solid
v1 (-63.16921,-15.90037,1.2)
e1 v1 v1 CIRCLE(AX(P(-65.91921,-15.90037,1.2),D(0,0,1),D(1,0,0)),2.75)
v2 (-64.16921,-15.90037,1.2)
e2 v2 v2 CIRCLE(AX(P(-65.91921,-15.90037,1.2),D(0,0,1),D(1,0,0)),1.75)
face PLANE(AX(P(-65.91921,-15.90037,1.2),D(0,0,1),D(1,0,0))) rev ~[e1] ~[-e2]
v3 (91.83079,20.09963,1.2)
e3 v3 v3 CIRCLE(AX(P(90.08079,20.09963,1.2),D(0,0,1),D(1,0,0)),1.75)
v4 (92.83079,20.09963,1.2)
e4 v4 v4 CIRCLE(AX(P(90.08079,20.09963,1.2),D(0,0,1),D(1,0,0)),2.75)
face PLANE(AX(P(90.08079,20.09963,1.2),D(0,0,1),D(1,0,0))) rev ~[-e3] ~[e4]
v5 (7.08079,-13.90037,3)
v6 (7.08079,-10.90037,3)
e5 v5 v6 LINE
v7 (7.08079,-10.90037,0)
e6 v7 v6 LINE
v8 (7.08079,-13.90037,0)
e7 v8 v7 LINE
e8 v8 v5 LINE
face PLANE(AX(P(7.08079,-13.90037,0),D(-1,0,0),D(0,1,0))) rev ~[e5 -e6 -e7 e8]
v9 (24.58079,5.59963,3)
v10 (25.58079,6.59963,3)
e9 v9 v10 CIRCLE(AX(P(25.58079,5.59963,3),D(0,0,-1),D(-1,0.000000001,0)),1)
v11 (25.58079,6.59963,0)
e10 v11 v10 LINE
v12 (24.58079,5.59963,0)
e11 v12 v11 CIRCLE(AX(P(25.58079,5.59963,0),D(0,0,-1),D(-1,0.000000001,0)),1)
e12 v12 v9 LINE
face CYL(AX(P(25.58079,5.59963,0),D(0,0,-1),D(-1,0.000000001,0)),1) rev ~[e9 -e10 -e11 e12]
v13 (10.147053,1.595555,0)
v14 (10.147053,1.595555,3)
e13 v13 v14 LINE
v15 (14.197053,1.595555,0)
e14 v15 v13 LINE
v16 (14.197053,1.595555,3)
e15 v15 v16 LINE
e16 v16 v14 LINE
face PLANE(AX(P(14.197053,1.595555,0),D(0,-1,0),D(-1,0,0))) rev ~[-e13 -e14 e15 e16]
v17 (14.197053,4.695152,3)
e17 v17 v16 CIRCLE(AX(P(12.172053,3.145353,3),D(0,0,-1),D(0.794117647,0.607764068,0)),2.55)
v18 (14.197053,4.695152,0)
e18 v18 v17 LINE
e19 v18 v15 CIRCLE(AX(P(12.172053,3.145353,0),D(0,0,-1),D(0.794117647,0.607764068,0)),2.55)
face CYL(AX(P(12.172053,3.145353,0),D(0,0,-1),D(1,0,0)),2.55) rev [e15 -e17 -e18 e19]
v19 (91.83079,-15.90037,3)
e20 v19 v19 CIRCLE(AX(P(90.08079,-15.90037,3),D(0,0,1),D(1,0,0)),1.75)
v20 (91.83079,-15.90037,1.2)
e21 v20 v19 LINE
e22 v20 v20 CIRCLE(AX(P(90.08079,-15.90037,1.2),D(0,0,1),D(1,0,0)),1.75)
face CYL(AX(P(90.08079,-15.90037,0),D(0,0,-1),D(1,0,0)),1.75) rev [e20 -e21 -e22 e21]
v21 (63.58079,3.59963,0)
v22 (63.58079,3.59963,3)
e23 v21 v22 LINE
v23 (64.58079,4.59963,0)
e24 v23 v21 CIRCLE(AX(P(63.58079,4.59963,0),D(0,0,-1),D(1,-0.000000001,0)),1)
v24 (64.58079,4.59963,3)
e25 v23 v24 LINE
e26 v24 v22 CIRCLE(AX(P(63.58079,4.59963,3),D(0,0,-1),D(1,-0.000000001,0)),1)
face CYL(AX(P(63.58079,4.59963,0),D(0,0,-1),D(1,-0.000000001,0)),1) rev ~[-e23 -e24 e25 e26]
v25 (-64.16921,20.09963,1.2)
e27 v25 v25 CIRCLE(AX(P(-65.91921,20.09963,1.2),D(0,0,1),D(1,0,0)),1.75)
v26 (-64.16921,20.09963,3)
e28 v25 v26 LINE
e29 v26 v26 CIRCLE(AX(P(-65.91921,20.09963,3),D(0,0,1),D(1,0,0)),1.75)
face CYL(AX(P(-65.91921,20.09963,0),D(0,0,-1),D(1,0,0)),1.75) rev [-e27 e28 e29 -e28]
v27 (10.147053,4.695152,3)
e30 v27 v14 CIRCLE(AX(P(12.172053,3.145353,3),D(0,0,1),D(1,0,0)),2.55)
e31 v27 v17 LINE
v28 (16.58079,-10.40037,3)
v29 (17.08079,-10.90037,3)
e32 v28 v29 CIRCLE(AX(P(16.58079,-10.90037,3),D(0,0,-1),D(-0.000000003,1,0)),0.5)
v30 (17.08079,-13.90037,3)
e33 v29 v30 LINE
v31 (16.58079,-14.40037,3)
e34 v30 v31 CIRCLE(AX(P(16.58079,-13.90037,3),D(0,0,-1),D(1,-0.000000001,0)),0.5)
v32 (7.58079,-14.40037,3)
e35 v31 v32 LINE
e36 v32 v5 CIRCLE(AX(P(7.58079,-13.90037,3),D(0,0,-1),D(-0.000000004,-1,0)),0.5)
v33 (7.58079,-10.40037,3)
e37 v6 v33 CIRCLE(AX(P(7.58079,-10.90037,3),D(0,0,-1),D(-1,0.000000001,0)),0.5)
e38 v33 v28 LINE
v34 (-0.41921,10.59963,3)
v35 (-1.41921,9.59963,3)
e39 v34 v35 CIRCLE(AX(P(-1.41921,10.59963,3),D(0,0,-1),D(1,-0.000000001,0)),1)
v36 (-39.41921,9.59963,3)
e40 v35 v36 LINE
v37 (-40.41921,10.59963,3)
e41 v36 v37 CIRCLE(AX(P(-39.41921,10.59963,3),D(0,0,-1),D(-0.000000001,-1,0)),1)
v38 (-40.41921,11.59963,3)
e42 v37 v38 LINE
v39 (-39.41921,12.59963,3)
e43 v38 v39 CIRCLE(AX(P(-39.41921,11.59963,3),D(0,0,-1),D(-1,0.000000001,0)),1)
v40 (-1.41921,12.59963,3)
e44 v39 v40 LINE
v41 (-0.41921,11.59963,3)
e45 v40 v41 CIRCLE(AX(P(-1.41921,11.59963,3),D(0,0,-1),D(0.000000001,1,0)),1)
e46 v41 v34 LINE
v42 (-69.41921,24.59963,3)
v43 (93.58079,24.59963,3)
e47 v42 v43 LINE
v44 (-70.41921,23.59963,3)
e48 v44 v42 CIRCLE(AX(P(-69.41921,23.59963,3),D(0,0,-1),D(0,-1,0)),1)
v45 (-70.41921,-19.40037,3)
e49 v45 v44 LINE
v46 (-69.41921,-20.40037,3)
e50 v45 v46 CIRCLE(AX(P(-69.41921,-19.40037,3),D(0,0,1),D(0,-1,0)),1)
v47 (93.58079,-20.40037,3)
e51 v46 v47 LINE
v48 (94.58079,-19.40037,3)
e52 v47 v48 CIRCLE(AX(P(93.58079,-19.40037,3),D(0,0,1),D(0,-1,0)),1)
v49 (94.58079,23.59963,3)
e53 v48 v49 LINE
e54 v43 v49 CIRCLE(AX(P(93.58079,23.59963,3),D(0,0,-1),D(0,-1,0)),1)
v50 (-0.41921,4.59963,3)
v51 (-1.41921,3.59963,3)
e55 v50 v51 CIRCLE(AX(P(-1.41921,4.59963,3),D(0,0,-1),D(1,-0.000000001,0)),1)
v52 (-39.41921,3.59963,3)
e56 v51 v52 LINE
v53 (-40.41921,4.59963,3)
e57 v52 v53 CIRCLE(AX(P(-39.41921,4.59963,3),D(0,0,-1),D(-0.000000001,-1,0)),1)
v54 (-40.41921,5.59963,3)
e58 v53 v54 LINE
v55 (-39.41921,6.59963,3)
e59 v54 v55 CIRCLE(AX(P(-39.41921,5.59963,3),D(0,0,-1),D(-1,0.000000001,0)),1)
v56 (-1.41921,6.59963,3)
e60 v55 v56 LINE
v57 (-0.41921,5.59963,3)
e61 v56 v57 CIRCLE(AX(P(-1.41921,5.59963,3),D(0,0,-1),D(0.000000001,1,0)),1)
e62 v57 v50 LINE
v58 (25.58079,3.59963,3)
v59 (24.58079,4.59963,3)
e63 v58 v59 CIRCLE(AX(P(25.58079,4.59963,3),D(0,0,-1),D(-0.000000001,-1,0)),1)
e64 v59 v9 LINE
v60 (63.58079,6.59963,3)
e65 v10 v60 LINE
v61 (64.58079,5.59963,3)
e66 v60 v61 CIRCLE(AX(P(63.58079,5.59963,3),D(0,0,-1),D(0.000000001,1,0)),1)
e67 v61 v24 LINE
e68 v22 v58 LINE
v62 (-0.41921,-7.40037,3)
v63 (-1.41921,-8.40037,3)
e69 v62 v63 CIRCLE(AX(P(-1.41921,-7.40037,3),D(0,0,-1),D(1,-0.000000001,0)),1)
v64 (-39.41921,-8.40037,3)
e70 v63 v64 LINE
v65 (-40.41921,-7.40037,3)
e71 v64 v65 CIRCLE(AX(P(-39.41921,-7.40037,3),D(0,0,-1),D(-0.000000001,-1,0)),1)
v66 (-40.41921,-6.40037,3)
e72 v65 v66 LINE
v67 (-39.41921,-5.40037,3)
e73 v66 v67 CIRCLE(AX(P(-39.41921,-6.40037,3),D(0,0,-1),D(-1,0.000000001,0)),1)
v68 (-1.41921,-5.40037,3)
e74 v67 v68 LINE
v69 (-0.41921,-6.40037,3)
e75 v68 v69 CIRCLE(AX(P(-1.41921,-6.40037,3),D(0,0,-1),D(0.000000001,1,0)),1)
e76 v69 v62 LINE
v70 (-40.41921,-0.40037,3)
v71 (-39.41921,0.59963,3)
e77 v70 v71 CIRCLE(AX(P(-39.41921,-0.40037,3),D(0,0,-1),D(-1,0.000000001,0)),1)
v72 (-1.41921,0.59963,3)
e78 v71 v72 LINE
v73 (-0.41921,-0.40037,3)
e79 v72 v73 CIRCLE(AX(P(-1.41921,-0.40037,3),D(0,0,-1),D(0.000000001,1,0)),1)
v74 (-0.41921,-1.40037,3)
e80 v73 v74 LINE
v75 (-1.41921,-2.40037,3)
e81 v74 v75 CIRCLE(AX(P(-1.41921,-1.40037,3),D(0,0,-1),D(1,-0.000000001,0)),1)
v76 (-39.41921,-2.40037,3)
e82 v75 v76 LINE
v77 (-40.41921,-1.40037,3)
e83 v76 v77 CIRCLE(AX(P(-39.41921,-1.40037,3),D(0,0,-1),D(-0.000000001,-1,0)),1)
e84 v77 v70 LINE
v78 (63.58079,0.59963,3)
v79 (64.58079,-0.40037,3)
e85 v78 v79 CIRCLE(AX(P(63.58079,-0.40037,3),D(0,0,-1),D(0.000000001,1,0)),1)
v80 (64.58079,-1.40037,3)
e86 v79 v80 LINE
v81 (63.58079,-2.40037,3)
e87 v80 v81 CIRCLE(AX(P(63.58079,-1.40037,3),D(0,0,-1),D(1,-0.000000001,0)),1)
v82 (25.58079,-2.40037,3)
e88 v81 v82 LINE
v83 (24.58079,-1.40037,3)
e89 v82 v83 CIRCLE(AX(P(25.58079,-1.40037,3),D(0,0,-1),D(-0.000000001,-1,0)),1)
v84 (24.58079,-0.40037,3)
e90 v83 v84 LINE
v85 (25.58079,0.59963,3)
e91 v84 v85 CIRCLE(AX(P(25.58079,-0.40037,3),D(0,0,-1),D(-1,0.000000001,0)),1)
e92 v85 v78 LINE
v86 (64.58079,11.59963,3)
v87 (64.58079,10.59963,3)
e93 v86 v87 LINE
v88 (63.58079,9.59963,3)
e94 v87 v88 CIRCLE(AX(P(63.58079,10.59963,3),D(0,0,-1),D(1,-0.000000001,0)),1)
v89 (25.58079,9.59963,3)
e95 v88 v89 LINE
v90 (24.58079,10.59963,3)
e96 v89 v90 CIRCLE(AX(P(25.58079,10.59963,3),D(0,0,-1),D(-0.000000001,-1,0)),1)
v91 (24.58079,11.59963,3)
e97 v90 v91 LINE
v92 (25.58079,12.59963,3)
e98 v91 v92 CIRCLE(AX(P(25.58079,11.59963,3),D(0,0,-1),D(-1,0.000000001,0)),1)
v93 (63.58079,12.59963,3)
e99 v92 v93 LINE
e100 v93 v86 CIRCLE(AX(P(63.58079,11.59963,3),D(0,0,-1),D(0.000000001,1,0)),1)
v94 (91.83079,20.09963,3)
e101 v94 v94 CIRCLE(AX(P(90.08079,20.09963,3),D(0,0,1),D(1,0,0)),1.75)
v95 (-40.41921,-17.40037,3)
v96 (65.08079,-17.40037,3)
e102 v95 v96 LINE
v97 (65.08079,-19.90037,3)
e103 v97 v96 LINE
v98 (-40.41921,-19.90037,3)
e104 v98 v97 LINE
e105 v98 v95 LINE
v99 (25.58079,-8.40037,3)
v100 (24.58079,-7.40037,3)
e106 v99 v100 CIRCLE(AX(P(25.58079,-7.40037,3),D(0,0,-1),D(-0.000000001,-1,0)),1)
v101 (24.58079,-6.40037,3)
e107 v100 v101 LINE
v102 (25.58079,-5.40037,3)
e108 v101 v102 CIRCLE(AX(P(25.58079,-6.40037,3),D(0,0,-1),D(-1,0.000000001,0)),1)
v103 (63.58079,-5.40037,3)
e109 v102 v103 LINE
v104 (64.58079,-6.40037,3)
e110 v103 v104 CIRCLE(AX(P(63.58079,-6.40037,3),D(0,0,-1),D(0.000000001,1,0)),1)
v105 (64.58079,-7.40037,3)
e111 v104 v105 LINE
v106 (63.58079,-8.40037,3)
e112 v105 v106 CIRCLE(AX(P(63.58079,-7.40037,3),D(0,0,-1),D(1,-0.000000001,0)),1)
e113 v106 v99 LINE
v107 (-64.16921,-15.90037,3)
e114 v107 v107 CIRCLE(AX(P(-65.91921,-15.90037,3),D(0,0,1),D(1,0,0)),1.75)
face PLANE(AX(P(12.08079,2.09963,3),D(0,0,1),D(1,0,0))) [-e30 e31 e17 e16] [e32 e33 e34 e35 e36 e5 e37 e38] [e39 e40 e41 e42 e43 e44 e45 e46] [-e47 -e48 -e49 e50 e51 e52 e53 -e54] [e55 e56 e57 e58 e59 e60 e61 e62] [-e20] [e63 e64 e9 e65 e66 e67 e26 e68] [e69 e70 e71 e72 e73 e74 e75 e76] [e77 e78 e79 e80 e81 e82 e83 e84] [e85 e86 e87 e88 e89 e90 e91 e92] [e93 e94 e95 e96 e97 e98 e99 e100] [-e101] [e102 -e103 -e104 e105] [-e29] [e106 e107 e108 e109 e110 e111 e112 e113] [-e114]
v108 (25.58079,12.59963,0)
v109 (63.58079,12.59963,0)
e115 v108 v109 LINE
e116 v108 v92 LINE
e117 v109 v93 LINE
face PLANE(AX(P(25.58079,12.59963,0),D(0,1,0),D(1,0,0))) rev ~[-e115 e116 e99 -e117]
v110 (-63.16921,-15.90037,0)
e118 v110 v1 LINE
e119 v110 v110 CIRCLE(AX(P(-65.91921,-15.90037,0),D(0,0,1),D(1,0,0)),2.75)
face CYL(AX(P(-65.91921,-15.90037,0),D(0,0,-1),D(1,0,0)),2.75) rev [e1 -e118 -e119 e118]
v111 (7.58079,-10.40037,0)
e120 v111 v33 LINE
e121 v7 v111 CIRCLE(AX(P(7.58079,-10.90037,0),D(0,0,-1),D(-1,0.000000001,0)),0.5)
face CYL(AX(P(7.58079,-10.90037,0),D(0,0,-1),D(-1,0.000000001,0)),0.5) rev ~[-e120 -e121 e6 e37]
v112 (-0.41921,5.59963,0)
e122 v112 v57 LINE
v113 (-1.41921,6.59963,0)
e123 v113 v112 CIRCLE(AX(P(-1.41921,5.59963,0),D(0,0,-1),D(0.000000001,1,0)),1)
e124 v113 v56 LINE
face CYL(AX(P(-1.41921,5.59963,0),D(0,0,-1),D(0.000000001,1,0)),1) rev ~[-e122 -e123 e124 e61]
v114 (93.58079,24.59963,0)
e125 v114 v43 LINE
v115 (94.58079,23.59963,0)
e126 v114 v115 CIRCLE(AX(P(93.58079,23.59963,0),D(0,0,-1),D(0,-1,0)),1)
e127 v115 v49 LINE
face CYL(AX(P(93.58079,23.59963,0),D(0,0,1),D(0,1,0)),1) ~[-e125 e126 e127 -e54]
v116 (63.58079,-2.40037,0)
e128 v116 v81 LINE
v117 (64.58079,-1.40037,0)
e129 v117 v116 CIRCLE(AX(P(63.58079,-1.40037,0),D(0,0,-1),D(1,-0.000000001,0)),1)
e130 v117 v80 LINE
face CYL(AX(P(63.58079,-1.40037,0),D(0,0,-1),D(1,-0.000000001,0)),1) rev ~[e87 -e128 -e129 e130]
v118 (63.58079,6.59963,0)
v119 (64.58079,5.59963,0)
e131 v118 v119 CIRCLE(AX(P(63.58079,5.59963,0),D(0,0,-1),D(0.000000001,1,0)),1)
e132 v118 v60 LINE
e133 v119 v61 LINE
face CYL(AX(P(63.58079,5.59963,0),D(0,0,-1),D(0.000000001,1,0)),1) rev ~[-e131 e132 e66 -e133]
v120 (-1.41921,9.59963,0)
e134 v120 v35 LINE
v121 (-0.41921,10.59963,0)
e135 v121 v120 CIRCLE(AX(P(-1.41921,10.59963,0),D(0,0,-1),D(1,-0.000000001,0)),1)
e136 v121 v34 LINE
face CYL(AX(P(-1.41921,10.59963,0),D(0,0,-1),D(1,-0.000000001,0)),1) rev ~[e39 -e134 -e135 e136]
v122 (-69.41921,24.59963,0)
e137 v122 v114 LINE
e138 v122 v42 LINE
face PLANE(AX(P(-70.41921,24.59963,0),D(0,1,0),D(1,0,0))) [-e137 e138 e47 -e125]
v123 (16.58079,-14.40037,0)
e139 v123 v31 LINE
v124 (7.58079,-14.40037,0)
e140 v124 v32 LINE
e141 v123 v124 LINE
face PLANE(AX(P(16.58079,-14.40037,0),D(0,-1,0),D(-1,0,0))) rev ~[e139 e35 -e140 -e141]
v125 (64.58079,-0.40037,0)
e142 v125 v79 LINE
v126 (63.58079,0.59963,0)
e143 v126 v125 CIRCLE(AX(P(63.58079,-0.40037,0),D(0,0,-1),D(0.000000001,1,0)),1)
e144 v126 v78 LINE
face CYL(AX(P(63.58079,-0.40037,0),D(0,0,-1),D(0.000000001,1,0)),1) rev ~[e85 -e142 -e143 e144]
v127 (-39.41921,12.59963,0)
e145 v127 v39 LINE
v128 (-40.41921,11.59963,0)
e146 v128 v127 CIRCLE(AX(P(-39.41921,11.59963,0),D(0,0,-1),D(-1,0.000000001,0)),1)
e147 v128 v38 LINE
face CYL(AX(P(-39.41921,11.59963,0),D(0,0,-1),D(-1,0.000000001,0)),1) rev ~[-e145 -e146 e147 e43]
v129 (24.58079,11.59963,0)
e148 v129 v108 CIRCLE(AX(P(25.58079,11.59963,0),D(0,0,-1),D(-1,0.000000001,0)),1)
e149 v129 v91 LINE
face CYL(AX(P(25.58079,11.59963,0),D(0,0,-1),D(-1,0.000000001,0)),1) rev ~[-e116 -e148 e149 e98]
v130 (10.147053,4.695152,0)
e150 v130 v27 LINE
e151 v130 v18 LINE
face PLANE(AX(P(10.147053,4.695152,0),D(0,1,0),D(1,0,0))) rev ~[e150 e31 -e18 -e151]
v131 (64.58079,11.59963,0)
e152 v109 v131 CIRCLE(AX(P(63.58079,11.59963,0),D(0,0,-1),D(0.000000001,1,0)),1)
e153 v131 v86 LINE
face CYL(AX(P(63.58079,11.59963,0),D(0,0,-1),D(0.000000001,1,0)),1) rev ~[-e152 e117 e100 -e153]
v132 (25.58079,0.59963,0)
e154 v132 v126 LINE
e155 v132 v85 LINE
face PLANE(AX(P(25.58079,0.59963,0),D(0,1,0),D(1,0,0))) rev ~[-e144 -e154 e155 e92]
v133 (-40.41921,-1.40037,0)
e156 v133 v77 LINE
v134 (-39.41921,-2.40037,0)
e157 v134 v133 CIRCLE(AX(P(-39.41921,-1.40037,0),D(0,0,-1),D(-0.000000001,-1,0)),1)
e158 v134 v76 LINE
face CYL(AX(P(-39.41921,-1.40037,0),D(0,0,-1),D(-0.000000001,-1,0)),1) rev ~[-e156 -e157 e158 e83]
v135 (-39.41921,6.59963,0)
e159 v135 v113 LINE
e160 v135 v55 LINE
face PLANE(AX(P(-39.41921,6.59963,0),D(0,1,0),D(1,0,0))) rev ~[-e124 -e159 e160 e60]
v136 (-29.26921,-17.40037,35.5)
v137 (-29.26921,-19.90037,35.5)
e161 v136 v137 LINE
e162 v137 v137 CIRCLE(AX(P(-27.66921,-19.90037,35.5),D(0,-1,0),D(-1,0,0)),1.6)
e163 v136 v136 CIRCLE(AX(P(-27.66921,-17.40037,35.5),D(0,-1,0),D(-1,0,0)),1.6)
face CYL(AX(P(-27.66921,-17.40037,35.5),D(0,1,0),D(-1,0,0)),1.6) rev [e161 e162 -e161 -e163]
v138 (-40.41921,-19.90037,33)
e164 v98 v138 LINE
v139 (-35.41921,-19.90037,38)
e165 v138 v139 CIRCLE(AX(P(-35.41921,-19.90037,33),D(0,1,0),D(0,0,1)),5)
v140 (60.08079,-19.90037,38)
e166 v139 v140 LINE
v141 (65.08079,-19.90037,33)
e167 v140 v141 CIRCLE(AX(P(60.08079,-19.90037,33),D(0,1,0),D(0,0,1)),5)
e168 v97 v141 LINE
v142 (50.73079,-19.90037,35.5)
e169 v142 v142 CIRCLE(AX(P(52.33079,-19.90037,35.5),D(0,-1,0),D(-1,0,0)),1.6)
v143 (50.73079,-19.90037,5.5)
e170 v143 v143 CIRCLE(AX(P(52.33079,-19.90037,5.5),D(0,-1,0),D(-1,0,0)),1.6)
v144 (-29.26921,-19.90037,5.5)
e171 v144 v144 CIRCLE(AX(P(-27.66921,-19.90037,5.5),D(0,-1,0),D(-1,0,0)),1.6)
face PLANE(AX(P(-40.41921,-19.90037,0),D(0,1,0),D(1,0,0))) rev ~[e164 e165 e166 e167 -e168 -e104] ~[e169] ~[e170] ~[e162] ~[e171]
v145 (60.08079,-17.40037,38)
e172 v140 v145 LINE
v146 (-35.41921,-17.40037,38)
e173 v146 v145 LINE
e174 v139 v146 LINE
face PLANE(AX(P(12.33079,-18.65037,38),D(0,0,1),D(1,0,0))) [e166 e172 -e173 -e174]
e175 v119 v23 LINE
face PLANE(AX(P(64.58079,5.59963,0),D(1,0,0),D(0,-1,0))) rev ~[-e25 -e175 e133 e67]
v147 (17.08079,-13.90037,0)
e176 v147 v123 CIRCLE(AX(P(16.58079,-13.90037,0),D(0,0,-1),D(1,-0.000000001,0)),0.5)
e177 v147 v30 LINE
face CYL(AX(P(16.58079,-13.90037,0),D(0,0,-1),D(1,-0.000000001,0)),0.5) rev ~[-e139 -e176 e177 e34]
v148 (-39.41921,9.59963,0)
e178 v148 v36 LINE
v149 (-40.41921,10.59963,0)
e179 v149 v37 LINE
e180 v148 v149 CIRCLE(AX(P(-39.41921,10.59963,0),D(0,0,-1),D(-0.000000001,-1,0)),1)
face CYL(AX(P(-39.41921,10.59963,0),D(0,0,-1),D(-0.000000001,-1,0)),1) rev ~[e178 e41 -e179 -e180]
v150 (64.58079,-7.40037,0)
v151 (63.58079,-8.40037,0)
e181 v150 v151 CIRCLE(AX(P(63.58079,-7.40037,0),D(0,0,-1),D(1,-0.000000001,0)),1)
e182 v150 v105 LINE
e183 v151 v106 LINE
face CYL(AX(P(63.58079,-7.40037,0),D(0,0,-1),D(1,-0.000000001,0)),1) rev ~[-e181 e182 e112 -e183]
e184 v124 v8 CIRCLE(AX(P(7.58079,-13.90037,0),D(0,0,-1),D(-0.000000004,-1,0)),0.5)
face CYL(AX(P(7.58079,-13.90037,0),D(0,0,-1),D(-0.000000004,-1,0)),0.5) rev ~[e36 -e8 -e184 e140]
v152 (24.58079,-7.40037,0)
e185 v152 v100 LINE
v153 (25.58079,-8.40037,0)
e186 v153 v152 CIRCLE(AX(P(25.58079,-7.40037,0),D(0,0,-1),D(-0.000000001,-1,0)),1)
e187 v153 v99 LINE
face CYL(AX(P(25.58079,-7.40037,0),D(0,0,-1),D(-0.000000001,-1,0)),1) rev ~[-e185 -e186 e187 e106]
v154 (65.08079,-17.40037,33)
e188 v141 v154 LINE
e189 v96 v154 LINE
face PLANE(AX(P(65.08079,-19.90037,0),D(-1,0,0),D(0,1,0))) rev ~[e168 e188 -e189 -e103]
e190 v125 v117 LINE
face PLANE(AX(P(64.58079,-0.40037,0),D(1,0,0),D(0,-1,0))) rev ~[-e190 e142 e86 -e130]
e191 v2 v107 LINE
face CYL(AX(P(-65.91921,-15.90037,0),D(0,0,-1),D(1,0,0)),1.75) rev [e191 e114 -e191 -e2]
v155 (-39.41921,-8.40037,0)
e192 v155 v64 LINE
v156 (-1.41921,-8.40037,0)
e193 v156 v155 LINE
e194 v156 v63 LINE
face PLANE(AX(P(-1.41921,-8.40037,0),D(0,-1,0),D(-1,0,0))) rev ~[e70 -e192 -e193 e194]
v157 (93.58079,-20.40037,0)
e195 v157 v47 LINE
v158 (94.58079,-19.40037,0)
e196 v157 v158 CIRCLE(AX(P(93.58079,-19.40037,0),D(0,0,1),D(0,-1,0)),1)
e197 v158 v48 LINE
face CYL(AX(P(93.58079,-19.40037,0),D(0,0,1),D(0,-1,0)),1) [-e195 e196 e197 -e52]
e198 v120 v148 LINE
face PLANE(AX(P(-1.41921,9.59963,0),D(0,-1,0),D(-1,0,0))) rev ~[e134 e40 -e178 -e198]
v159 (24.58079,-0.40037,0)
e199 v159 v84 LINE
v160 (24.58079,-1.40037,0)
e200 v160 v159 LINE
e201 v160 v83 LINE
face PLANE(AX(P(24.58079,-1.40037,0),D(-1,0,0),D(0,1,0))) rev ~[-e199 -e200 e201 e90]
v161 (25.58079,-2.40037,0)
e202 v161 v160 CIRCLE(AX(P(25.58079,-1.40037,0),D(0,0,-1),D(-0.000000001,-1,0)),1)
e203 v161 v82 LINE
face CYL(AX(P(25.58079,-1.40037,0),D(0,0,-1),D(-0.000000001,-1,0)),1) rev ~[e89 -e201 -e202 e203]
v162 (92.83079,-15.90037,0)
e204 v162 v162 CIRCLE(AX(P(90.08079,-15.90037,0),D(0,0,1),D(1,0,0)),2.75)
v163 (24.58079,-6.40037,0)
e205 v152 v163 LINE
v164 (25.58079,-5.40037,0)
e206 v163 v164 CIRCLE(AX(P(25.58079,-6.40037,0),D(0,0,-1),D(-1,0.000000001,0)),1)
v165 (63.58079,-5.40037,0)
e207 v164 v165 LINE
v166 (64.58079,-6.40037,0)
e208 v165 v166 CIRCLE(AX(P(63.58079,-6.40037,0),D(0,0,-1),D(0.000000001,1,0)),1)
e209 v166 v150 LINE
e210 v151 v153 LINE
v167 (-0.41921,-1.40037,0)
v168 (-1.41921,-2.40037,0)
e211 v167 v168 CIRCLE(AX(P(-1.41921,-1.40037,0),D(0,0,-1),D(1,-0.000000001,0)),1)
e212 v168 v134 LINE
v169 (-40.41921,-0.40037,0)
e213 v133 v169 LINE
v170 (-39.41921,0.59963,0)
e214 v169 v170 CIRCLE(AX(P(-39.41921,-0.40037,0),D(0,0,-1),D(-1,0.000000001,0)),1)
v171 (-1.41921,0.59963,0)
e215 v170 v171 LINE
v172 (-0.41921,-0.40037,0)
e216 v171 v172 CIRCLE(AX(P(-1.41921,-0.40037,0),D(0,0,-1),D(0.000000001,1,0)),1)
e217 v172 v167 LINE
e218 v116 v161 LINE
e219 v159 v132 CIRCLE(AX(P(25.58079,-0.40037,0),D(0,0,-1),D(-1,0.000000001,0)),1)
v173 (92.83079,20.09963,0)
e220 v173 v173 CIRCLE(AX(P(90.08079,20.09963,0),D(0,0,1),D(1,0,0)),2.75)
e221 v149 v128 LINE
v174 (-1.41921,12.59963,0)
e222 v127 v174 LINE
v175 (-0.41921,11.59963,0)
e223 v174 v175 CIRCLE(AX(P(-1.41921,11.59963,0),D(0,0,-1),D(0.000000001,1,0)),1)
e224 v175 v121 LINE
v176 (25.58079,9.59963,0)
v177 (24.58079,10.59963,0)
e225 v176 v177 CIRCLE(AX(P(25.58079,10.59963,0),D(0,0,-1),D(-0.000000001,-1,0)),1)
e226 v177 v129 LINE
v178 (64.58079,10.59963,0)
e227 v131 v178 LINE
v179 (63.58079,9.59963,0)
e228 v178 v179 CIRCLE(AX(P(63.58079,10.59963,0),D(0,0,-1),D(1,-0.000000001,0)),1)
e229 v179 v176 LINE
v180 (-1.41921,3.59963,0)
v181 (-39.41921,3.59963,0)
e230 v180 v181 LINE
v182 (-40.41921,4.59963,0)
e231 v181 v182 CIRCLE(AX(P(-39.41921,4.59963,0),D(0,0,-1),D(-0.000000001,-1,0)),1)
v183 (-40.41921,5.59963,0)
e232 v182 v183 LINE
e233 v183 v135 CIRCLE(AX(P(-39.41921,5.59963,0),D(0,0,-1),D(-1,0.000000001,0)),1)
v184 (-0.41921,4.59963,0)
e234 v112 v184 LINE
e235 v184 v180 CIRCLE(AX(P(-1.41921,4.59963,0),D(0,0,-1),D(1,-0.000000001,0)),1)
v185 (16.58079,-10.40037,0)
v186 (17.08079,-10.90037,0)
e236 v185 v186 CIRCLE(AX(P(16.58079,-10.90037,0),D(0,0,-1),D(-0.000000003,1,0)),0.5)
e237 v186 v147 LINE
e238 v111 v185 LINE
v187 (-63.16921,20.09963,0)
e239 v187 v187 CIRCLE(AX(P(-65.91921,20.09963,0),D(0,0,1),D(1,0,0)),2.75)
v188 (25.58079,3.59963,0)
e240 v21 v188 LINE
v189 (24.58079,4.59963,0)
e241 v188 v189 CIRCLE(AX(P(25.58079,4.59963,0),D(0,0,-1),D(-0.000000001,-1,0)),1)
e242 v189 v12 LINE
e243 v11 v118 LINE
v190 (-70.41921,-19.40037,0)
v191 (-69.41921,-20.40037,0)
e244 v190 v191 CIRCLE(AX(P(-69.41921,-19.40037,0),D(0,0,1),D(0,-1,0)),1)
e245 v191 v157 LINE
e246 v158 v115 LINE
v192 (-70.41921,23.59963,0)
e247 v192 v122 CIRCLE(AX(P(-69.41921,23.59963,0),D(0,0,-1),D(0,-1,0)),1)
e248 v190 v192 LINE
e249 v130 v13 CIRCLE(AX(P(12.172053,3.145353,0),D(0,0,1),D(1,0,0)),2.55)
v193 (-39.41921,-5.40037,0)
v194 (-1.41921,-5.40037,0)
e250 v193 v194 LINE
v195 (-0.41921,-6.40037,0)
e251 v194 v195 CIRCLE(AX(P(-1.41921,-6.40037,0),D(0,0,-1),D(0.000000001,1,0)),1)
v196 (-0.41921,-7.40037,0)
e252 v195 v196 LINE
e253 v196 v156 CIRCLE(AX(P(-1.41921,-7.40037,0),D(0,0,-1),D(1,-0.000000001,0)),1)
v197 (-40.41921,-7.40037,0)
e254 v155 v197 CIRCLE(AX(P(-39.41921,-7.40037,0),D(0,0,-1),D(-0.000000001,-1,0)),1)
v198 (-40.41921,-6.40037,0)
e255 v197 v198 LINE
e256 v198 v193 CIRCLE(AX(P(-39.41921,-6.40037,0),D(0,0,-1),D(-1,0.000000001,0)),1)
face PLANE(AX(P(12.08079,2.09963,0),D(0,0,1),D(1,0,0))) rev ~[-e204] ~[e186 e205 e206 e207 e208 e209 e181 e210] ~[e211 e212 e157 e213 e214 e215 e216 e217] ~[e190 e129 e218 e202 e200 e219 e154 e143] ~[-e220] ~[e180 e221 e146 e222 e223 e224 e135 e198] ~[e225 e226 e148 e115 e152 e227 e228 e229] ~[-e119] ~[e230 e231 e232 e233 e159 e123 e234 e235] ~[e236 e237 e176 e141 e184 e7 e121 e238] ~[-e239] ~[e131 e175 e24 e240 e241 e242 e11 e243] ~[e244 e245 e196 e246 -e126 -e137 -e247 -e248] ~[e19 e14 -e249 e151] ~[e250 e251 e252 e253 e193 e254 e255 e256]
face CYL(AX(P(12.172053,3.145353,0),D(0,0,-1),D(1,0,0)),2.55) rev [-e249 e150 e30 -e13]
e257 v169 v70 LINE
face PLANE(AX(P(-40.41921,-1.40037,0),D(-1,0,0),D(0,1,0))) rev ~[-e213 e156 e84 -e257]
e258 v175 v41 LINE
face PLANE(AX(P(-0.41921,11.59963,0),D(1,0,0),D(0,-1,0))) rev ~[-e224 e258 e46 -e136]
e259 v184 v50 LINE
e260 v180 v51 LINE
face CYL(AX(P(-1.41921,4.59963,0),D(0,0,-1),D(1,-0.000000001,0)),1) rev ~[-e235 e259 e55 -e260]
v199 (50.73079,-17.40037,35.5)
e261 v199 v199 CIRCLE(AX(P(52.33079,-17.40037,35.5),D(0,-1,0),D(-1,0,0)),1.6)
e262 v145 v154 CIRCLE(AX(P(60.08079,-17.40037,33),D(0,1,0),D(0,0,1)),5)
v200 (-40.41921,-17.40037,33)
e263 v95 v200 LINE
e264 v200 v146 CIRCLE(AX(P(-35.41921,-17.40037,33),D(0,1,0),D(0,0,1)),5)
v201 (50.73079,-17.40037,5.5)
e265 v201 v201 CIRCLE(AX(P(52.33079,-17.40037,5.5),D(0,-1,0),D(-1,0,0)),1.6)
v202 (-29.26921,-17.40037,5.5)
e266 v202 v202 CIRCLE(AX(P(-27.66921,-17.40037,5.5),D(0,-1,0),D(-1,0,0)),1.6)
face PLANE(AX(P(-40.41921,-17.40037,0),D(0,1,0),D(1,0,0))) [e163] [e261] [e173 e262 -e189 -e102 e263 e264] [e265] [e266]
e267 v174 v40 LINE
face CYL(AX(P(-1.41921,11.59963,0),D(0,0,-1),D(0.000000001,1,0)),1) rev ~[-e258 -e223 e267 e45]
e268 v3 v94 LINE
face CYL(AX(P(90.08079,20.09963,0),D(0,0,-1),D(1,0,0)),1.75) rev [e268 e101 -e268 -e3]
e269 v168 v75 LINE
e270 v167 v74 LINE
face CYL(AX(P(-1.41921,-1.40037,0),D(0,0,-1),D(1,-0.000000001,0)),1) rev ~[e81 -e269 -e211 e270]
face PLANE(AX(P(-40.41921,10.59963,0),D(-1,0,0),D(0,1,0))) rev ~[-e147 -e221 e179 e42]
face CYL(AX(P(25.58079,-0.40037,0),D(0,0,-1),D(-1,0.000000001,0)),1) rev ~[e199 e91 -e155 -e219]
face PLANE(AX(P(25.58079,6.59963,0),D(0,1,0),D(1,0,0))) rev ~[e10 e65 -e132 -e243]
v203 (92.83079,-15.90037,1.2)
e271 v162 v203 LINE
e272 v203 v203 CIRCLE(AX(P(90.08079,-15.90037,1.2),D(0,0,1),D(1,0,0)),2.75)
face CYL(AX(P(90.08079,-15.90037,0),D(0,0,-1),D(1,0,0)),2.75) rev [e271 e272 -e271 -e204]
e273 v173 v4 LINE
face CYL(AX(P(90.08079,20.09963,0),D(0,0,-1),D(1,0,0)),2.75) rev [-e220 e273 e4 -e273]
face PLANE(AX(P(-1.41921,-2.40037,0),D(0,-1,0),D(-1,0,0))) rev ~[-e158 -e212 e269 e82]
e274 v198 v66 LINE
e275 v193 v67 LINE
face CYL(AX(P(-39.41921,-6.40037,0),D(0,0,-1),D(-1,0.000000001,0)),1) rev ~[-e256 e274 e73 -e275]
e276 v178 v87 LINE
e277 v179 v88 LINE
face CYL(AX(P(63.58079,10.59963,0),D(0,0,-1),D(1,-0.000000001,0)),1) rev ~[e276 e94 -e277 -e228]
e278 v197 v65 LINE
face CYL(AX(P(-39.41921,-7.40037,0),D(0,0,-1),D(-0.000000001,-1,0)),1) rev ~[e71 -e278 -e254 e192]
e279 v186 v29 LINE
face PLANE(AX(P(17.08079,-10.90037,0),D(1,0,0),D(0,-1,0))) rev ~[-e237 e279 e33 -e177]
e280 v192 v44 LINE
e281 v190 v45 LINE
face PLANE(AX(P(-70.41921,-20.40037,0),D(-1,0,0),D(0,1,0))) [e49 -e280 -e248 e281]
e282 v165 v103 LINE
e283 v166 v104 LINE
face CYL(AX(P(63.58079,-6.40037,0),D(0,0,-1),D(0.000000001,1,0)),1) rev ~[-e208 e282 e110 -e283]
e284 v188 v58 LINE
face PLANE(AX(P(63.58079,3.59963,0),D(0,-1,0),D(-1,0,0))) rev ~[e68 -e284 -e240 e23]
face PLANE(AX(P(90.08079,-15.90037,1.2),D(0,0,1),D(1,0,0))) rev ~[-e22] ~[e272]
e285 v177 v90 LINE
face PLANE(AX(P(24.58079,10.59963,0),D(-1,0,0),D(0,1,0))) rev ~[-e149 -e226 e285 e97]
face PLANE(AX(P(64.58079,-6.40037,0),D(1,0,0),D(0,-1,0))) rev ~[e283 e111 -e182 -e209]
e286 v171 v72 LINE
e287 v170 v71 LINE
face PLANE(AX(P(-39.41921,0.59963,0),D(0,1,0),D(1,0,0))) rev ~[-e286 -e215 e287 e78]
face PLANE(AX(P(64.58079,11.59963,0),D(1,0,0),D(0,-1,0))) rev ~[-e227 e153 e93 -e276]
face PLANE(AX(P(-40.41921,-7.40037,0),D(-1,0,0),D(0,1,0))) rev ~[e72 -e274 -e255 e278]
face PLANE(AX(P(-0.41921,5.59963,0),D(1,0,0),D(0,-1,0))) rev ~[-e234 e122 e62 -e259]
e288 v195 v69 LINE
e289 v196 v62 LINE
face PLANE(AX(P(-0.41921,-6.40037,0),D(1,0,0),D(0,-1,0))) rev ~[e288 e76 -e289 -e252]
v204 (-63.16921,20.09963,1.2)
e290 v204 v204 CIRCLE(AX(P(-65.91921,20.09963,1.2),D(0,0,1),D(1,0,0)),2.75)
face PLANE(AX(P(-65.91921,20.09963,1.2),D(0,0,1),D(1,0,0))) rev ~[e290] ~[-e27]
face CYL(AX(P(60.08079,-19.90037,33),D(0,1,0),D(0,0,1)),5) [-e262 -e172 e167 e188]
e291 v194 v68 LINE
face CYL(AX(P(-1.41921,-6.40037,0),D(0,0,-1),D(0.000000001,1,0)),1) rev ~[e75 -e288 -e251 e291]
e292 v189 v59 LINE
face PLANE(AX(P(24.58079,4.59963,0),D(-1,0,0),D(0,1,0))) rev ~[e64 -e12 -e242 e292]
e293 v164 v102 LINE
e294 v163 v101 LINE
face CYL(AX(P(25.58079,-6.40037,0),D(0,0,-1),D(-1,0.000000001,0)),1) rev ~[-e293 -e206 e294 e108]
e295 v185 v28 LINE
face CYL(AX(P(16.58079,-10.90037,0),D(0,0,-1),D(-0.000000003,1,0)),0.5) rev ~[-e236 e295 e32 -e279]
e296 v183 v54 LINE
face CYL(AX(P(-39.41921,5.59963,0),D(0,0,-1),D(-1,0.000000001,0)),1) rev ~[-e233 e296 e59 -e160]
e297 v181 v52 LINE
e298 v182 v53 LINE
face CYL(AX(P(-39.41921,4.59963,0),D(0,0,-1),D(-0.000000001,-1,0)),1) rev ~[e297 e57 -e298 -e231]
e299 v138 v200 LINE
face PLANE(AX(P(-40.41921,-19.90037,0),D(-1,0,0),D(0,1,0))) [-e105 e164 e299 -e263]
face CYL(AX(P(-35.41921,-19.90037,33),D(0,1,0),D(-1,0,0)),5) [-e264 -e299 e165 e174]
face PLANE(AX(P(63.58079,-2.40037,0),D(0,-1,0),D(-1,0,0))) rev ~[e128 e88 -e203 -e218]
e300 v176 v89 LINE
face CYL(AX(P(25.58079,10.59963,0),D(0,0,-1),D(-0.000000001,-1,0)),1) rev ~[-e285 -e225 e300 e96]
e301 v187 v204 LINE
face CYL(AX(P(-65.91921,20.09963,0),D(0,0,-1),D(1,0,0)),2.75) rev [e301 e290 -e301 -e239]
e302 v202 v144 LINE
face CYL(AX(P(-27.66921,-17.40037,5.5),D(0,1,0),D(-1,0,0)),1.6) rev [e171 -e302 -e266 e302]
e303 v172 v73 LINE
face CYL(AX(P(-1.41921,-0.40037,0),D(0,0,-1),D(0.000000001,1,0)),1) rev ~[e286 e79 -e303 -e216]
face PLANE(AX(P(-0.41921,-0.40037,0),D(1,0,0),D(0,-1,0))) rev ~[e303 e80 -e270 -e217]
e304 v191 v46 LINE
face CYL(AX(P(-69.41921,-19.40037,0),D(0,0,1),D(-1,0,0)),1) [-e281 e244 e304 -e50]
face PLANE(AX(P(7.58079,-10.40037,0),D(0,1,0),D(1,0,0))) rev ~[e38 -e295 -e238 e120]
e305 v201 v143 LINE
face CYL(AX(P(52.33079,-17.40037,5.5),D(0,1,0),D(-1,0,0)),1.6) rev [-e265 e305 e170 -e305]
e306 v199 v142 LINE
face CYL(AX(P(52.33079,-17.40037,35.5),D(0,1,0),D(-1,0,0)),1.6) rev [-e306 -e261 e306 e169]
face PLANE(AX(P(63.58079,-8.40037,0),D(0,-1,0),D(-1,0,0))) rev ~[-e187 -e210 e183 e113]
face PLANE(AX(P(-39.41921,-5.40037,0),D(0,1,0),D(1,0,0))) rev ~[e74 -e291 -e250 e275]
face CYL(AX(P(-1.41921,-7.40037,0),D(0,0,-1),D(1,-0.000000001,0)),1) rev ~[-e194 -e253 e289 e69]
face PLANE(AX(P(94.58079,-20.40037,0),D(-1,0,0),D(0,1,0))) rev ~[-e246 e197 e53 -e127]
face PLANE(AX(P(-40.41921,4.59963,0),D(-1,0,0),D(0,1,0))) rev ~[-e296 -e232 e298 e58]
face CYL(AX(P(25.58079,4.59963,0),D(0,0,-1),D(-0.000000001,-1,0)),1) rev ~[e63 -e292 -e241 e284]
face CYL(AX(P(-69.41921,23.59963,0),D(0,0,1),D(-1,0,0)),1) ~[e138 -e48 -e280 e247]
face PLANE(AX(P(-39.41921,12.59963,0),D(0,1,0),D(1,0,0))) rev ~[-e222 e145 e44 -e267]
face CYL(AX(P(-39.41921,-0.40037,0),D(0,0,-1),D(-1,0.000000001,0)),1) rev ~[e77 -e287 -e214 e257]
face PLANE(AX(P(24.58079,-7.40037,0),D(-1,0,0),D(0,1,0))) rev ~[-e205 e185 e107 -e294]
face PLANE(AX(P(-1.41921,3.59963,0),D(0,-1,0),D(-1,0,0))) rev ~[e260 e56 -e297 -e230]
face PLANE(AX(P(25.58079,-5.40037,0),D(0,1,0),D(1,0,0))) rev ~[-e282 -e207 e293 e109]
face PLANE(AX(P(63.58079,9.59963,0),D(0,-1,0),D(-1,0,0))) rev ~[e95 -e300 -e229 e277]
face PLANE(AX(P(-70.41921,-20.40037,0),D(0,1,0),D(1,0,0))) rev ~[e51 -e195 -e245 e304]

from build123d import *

# Parameters (mm, degrees)
SKETCH_1_W          = 165
SKETCH_1_H          = 45
SKETCH_1_R          = 1.75
SKETCH_1_R_2        = 2.55
SKETCH_1_W_2        = 105.5
SKETCH_1_H_2        = 2.5
EXTRUDE_2_DEPTH     = 3
SKETCH_1_5_R        = 2.75
SKETCH_1_5_R_2      = 1.75
CUT_EXTRUDE_2_DEPTH = 1.2
SKETCH_1_7_W        = 105.5
SKETCH_1_7_H        = 2.5
EXTRUDE_3_DEPTH     = 38
FILLET_1_R          = 5
FILLET_2_R          = 1
SKETCH_3D_1_R       = 1.6
CUT_EXTRUDE_3_DEPTH = 2.5
EXTRUDE_5_DEPTH     = 3


with BuildPart() as part:
    # 草图1 → 凸台-拉伸2 (new body)
    with BuildSketch(Plane.XY):
        with Locations((12.080789946, 2.099629791)):
            Rectangle(SKETCH_1_W, SKETCH_1_H)
        with Locations((-65.919210054, 20.099629791)):
            Circle(SKETCH_1_R, mode=Mode.SUBTRACT)
        with Locations((-65.919210054, -15.900370209)):
            Circle(SKETCH_1_R, mode=Mode.SUBTRACT)
        with Locations((90.080789946, -15.900370209)):
            Circle(SKETCH_1_R, mode=Mode.SUBTRACT)
        with Locations((90.080789946, 20.099629791)):
            Circle(SKETCH_1_R, mode=Mode.SUBTRACT)
        with Locations((12.17205321, 3.14535325)):
            Circle(SKETCH_1_R_2, mode=Mode.SUBTRACT)
        with BuildLine():
            Line((25.580789946, 12.599629791), (63.580789946, 12.599629791))
            ThreePointArc((63.580789946, 12.599629791), (64.287896727, 12.306736572), (64.580789946, 11.599629791))
            Line((64.580789946, 11.599629791), (64.580789946, 10.599629791))
            ThreePointArc((64.580789946, 10.599629791), (64.287896727, 9.89252301), (63.580789946, 9.599629791))
            Line((63.580789946, 9.599629791), (25.580789946, 9.599629791))
            ThreePointArc((25.580789946, 9.599629791), (24.873683165, 9.89252301), (24.580789946, 10.599629791))
            Line((24.580789946, 10.599629791), (24.580789946, 11.599629791))
            ThreePointArc((24.580789946, 11.599629791), (24.873683165, 12.306736572), (25.580789946, 12.599629791))
        make_face(mode=Mode.SUBTRACT)
        with BuildLine():
            Line((-39.419210054, 12.599629791), (-1.419210054, 12.599629791))
            ThreePointArc((-1.419210054, 12.599629791), (-0.712103273, 12.306736572), (-0.419210054, 11.599629791))
            Line((-0.419210054, 11.599629791), (-0.419210054, 10.599629791))
            ThreePointArc((-0.419210054, 10.599629791), (-0.712103273, 9.89252301), (-1.419210054, 9.599629791))
            Line((-1.419210054, 9.599629791), (-39.419210054, 9.599629791))
            ThreePointArc((-39.419210054, 9.599629791), (-40.126316835, 9.89252301), (-40.419210054, 10.599629791))
            Line((-40.419210054, 10.599629791), (-40.419210054, 11.599629791))
            ThreePointArc((-40.419210054, 11.599629791), (-40.126316835, 12.306736572), (-39.419210054, 12.599629791))
        make_face(mode=Mode.SUBTRACT)
        with BuildLine():
            Line((25.580789946, 6.599629791), (63.580789946, 6.599629791))
            ThreePointArc((63.580789946, 6.599629791), (64.287896727, 6.306736572), (64.580789946, 5.599629791))
            Line((64.580789946, 5.599629791), (64.580789946, 4.599629791))
            ThreePointArc((64.580789946, 4.599629791), (64.287896727, 3.89252301), (63.580789946, 3.599629791))
            Line((63.580789946, 3.599629791), (25.580789946, 3.599629791))
            ThreePointArc((25.580789946, 3.599629791), (24.873683165, 3.89252301), (24.580789946, 4.599629791))
            Line((24.580789946, 4.599629791), (24.580789946, 5.599629791))
            ThreePointArc((24.580789946, 5.599629791), (24.873683165, 6.306736572), (25.580789946, 6.599629791))
        make_face(mode=Mode.SUBTRACT)
        with BuildLine():
            Line((25.580789946, 0.599629791), (63.580789946, 0.599629791))
            ThreePointArc((63.580789946, 0.599629791), (64.287896727, 0.306736572), (64.580789946, -0.400370209))
            Line((64.580789946, -0.400370209), (64.580789946, -1.400370209))
            ThreePointArc((64.580789946, -1.400370209), (64.287896727, -2.10747699), (63.580789946, -2.400370209))
            Line((63.580789946, -2.400370209), (25.580789946, -2.400370209))
            ThreePointArc((25.580789946, -2.400370209), (24.873683165, -2.10747699), (24.580789946, -1.400370209))
            Line((24.580789946, -1.400370209), (24.580789946, -0.400370209))
            ThreePointArc((24.580789946, -0.400370209), (24.873683165, 0.306736572), (25.580789946, 0.599629791))
        make_face(mode=Mode.SUBTRACT)
        with BuildLine():
            Line((25.580789946, -5.400370209), (63.580789946, -5.400370209))
            ThreePointArc((63.580789946, -5.400370209), (64.287896727, -5.693263428), (64.580789946, -6.400370209))
            Line((64.580789946, -6.400370209), (64.580789946, -7.400370209))
            ThreePointArc((64.580789946, -7.400370209), (64.287896727, -8.10747699), (63.580789946, -8.400370209))
            Line((63.580789946, -8.400370209), (25.580789946, -8.400370209))
            ThreePointArc((25.580789946, -8.400370209), (24.873683165, -8.10747699), (24.580789946, -7.400370209))
            Line((24.580789946, -7.400370209), (24.580789946, -6.400370209))
            ThreePointArc((24.580789946, -6.400370209), (24.873683165, -5.693263428), (25.580789946, -5.400370209))
        make_face(mode=Mode.SUBTRACT)
        with BuildLine():
            Line((-39.419210054, 6.599629791), (-1.419210054, 6.599629791))
            ThreePointArc((-1.419210054, 6.599629791), (-0.712103273, 6.306736572), (-0.419210054, 5.599629791))
            Line((-0.419210054, 5.599629791), (-0.419210054, 4.599629791))
            ThreePointArc((-0.419210054, 4.599629791), (-0.712103273, 3.89252301), (-1.419210054, 3.599629791))
            Line((-1.419210054, 3.599629791), (-39.419210054, 3.599629791))
            ThreePointArc((-39.419210054, 3.599629791), (-40.126316835, 3.89252301), (-40.419210054, 4.599629791))
            Line((-40.419210054, 4.599629791), (-40.419210054, 5.599629791))
            ThreePointArc((-40.419210054, 5.599629791), (-40.126316835, 6.306736572), (-39.419210054, 6.599629791))
        make_face(mode=Mode.SUBTRACT)
        with BuildLine():
            Line((-39.419210054, 0.599629791), (-1.419210054, 0.599629791))
            ThreePointArc((-1.419210054, 0.599629791), (-0.712103273, 0.306736572), (-0.419210054, -0.400370209))
            Line((-0.419210054, -0.400370209), (-0.419210054, -1.400370209))
            ThreePointArc((-0.419210054, -1.400370209), (-0.712103273, -2.10747699), (-1.419210054, -2.400370209))
            Line((-1.419210054, -2.400370209), (-39.419210054, -2.400370209))
            ThreePointArc((-39.419210054, -2.400370209), (-40.126316835, -2.10747699), (-40.419210054, -1.400370209))
            Line((-40.419210054, -1.400370209), (-40.419210054, -0.400370209))
            ThreePointArc((-40.419210054, -0.400370209), (-40.126316835, 0.306736572), (-39.419210054, 0.599629791))
        make_face(mode=Mode.SUBTRACT)
        with BuildLine():
            Line((-39.419210054, -5.400370209), (-1.419210054, -5.400370209))
            ThreePointArc((-1.419210054, -5.400370209), (-0.712103273, -5.693263428), (-0.419210054, -6.400370209))
            Line((-0.419210054, -6.400370209), (-0.419210054, -7.400370209))
            ThreePointArc((-0.419210054, -7.400370209), (-0.712103273, -8.10747699), (-1.419210054, -8.400370209))
            Line((-1.419210054, -8.400370209), (-39.419210054, -8.400370209))
            ThreePointArc((-39.419210054, -8.400370209), (-40.126316835, -8.10747699), (-40.419210054, -7.400370209))
            Line((-40.419210054, -7.400370209), (-40.419210054, -6.400370209))
            ThreePointArc((-40.419210054, -6.400370209), (-40.126316835, -5.693263428), (-39.419210054, -5.400370209))
        make_face(mode=Mode.SUBTRACT)
        with BuildLine():
            Line((7.580789946, -10.400370209), (16.580789946, -10.400370209))
            ThreePointArc((16.580789946, -10.400370209), (16.934343337, -10.546816818), (17.080789946, -10.900370209))
            Line((17.080789946, -10.900370209), (17.080789946, -13.900370209))
            ThreePointArc((17.080789946, -13.900370209), (16.934343337, -14.253923599), (16.580789946, -14.400370209))
            Line((16.580789946, -14.400370209), (7.580789946, -14.400370209))
            ThreePointArc((7.580789946, -14.400370209), (7.227236556, -14.253923599), (7.080789946, -13.900370209))
            Line((7.080789946, -13.900370209), (7.080789946, -10.900370209))
            ThreePointArc((7.080789946, -10.900370209), (7.227236556, -10.546816818), (7.580789946, -10.400370209))
        make_face(mode=Mode.SUBTRACT)
        with Locations((12.330789946, -18.650370209)):
            Rectangle(SKETCH_1_W_2, SKETCH_1_H_2, mode=Mode.SUBTRACT)
    extrude(amount=EXTRUDE_2_DEPTH)

    # 草图1<5> → 切除-拉伸2 (cut)
    # profile 1 of 4: a face of its own
    with BuildSketch(Plane.XY):
        with Locations((90.080789946, 20.099629791)):
            Circle(SKETCH_1_5_R)
        with Locations((90.080789946, 20.099629791)):
            Circle(SKETCH_1_5_R_2, mode=Mode.SUBTRACT)
    # profile 2 of 4: a face of its own
    with BuildSketch(Plane.XY):
        with Locations((90.080789946, -15.900370209)):
            Circle(SKETCH_1_5_R)
        with Locations((90.080789946, -15.900370209)):
            Circle(SKETCH_1_5_R_2, mode=Mode.SUBTRACT)
    # profile 3 of 4: a face of its own
    with BuildSketch(Plane.XY):
        with Locations((-65.919210054, 20.099629791)):
            Circle(SKETCH_1_5_R)
        with Locations((-65.919210054, 20.099629791)):
            Circle(SKETCH_1_5_R_2, mode=Mode.SUBTRACT)
    # profile 4 of 4: a face of its own
    with BuildSketch(Plane.XY):
        with Locations((-65.919210054, -15.900370209)):
            Circle(SKETCH_1_5_R)
        with Locations((-65.919210054, -15.900370209)):
            Circle(SKETCH_1_5_R_2, mode=Mode.SUBTRACT)
    extrude(amount=CUT_EXTRUDE_2_DEPTH, mode=Mode.SUBTRACT)

    # 草图1<7> → 凸台-拉伸3 (add)
    with BuildSketch(Plane.XY):
        with Locations((12.330789946, -18.650370209)):
            Rectangle(SKETCH_1_7_W, SKETCH_1_7_H)
    extrude(amount=EXTRUDE_3_DEPTH)

    # 圆角1
    fillet_1_edges = [part.edges().sort_by_distance(p)[0] for p in [
        (65.080789946, -18.650370209, 38),
        (-40.419210054, -18.650370209, 38),
    ]]
    fillet(fillet_1_edges, radius=FILLET_1_R)

    # 圆角2
    fillet_2_edges = [part.edges().sort_by_distance(p)[0] for p in [
        (94.580789946, -20.400370209, 1.5),
        (-70.419210054, -20.400370209, 1.5),
        (-70.419210054, 24.599629791, 1.5),
        (94.580789946, 24.599629791, 1.5),
    ]]
    fillet(fillet_2_edges, radius=FILLET_2_R)

    # Sketch 3D_1 → 切除-拉伸3 (cut)
    with BuildSketch(Plane(origin=(-27.669210054, -17.400370209, 5.5), x_dir=(0.9363291775690445, 0, 0.35112344158839165), z_dir=(0, -1, 0))):
        with Locations(Location((0, 0, 0), (0, 0, 159.44395478))):
            Circle(SKETCH_3D_1_R)
        with Locations(Location((74.906334206, -28.089875327, 0), (0, 0, 159.44395478))):
            Circle(SKETCH_3D_1_R)
        with Locations(Location((10.533703248, 28.089875327, 0), (0, 0, 159.44395478))):
            Circle(SKETCH_3D_1_R)
        with Locations(Location((85.440037453, 0, 0), (0, 0, 159.44395478))):
            Circle(SKETCH_3D_1_R)
    extrude(amount=CUT_EXTRUDE_3_DEPTH, mode=Mode.SUBTRACT)

    # 草图1<10> → 凸台-拉伸5 (add)
    with BuildSketch(Plane.XY):
        with BuildLine():
            Line((10.14705321, 4.695151624), (14.19705321, 4.695151624))
            ThreePointArc((14.19705321, 4.695151624), (12.17205321, 5.69535325), (10.14705321, 4.695151624))
        make_face()
        with BuildLine():
            ThreePointArc((10.14705321, 1.595554876), (12.17205321, 0.59535325), (14.19705321, 1.595554876))
            Line((14.19705321, 1.595554876), (10.14705321, 1.595554876))
        make_face()
    extrude(amount=EXTRUDE_5_DEPTH)


solid = part.part
